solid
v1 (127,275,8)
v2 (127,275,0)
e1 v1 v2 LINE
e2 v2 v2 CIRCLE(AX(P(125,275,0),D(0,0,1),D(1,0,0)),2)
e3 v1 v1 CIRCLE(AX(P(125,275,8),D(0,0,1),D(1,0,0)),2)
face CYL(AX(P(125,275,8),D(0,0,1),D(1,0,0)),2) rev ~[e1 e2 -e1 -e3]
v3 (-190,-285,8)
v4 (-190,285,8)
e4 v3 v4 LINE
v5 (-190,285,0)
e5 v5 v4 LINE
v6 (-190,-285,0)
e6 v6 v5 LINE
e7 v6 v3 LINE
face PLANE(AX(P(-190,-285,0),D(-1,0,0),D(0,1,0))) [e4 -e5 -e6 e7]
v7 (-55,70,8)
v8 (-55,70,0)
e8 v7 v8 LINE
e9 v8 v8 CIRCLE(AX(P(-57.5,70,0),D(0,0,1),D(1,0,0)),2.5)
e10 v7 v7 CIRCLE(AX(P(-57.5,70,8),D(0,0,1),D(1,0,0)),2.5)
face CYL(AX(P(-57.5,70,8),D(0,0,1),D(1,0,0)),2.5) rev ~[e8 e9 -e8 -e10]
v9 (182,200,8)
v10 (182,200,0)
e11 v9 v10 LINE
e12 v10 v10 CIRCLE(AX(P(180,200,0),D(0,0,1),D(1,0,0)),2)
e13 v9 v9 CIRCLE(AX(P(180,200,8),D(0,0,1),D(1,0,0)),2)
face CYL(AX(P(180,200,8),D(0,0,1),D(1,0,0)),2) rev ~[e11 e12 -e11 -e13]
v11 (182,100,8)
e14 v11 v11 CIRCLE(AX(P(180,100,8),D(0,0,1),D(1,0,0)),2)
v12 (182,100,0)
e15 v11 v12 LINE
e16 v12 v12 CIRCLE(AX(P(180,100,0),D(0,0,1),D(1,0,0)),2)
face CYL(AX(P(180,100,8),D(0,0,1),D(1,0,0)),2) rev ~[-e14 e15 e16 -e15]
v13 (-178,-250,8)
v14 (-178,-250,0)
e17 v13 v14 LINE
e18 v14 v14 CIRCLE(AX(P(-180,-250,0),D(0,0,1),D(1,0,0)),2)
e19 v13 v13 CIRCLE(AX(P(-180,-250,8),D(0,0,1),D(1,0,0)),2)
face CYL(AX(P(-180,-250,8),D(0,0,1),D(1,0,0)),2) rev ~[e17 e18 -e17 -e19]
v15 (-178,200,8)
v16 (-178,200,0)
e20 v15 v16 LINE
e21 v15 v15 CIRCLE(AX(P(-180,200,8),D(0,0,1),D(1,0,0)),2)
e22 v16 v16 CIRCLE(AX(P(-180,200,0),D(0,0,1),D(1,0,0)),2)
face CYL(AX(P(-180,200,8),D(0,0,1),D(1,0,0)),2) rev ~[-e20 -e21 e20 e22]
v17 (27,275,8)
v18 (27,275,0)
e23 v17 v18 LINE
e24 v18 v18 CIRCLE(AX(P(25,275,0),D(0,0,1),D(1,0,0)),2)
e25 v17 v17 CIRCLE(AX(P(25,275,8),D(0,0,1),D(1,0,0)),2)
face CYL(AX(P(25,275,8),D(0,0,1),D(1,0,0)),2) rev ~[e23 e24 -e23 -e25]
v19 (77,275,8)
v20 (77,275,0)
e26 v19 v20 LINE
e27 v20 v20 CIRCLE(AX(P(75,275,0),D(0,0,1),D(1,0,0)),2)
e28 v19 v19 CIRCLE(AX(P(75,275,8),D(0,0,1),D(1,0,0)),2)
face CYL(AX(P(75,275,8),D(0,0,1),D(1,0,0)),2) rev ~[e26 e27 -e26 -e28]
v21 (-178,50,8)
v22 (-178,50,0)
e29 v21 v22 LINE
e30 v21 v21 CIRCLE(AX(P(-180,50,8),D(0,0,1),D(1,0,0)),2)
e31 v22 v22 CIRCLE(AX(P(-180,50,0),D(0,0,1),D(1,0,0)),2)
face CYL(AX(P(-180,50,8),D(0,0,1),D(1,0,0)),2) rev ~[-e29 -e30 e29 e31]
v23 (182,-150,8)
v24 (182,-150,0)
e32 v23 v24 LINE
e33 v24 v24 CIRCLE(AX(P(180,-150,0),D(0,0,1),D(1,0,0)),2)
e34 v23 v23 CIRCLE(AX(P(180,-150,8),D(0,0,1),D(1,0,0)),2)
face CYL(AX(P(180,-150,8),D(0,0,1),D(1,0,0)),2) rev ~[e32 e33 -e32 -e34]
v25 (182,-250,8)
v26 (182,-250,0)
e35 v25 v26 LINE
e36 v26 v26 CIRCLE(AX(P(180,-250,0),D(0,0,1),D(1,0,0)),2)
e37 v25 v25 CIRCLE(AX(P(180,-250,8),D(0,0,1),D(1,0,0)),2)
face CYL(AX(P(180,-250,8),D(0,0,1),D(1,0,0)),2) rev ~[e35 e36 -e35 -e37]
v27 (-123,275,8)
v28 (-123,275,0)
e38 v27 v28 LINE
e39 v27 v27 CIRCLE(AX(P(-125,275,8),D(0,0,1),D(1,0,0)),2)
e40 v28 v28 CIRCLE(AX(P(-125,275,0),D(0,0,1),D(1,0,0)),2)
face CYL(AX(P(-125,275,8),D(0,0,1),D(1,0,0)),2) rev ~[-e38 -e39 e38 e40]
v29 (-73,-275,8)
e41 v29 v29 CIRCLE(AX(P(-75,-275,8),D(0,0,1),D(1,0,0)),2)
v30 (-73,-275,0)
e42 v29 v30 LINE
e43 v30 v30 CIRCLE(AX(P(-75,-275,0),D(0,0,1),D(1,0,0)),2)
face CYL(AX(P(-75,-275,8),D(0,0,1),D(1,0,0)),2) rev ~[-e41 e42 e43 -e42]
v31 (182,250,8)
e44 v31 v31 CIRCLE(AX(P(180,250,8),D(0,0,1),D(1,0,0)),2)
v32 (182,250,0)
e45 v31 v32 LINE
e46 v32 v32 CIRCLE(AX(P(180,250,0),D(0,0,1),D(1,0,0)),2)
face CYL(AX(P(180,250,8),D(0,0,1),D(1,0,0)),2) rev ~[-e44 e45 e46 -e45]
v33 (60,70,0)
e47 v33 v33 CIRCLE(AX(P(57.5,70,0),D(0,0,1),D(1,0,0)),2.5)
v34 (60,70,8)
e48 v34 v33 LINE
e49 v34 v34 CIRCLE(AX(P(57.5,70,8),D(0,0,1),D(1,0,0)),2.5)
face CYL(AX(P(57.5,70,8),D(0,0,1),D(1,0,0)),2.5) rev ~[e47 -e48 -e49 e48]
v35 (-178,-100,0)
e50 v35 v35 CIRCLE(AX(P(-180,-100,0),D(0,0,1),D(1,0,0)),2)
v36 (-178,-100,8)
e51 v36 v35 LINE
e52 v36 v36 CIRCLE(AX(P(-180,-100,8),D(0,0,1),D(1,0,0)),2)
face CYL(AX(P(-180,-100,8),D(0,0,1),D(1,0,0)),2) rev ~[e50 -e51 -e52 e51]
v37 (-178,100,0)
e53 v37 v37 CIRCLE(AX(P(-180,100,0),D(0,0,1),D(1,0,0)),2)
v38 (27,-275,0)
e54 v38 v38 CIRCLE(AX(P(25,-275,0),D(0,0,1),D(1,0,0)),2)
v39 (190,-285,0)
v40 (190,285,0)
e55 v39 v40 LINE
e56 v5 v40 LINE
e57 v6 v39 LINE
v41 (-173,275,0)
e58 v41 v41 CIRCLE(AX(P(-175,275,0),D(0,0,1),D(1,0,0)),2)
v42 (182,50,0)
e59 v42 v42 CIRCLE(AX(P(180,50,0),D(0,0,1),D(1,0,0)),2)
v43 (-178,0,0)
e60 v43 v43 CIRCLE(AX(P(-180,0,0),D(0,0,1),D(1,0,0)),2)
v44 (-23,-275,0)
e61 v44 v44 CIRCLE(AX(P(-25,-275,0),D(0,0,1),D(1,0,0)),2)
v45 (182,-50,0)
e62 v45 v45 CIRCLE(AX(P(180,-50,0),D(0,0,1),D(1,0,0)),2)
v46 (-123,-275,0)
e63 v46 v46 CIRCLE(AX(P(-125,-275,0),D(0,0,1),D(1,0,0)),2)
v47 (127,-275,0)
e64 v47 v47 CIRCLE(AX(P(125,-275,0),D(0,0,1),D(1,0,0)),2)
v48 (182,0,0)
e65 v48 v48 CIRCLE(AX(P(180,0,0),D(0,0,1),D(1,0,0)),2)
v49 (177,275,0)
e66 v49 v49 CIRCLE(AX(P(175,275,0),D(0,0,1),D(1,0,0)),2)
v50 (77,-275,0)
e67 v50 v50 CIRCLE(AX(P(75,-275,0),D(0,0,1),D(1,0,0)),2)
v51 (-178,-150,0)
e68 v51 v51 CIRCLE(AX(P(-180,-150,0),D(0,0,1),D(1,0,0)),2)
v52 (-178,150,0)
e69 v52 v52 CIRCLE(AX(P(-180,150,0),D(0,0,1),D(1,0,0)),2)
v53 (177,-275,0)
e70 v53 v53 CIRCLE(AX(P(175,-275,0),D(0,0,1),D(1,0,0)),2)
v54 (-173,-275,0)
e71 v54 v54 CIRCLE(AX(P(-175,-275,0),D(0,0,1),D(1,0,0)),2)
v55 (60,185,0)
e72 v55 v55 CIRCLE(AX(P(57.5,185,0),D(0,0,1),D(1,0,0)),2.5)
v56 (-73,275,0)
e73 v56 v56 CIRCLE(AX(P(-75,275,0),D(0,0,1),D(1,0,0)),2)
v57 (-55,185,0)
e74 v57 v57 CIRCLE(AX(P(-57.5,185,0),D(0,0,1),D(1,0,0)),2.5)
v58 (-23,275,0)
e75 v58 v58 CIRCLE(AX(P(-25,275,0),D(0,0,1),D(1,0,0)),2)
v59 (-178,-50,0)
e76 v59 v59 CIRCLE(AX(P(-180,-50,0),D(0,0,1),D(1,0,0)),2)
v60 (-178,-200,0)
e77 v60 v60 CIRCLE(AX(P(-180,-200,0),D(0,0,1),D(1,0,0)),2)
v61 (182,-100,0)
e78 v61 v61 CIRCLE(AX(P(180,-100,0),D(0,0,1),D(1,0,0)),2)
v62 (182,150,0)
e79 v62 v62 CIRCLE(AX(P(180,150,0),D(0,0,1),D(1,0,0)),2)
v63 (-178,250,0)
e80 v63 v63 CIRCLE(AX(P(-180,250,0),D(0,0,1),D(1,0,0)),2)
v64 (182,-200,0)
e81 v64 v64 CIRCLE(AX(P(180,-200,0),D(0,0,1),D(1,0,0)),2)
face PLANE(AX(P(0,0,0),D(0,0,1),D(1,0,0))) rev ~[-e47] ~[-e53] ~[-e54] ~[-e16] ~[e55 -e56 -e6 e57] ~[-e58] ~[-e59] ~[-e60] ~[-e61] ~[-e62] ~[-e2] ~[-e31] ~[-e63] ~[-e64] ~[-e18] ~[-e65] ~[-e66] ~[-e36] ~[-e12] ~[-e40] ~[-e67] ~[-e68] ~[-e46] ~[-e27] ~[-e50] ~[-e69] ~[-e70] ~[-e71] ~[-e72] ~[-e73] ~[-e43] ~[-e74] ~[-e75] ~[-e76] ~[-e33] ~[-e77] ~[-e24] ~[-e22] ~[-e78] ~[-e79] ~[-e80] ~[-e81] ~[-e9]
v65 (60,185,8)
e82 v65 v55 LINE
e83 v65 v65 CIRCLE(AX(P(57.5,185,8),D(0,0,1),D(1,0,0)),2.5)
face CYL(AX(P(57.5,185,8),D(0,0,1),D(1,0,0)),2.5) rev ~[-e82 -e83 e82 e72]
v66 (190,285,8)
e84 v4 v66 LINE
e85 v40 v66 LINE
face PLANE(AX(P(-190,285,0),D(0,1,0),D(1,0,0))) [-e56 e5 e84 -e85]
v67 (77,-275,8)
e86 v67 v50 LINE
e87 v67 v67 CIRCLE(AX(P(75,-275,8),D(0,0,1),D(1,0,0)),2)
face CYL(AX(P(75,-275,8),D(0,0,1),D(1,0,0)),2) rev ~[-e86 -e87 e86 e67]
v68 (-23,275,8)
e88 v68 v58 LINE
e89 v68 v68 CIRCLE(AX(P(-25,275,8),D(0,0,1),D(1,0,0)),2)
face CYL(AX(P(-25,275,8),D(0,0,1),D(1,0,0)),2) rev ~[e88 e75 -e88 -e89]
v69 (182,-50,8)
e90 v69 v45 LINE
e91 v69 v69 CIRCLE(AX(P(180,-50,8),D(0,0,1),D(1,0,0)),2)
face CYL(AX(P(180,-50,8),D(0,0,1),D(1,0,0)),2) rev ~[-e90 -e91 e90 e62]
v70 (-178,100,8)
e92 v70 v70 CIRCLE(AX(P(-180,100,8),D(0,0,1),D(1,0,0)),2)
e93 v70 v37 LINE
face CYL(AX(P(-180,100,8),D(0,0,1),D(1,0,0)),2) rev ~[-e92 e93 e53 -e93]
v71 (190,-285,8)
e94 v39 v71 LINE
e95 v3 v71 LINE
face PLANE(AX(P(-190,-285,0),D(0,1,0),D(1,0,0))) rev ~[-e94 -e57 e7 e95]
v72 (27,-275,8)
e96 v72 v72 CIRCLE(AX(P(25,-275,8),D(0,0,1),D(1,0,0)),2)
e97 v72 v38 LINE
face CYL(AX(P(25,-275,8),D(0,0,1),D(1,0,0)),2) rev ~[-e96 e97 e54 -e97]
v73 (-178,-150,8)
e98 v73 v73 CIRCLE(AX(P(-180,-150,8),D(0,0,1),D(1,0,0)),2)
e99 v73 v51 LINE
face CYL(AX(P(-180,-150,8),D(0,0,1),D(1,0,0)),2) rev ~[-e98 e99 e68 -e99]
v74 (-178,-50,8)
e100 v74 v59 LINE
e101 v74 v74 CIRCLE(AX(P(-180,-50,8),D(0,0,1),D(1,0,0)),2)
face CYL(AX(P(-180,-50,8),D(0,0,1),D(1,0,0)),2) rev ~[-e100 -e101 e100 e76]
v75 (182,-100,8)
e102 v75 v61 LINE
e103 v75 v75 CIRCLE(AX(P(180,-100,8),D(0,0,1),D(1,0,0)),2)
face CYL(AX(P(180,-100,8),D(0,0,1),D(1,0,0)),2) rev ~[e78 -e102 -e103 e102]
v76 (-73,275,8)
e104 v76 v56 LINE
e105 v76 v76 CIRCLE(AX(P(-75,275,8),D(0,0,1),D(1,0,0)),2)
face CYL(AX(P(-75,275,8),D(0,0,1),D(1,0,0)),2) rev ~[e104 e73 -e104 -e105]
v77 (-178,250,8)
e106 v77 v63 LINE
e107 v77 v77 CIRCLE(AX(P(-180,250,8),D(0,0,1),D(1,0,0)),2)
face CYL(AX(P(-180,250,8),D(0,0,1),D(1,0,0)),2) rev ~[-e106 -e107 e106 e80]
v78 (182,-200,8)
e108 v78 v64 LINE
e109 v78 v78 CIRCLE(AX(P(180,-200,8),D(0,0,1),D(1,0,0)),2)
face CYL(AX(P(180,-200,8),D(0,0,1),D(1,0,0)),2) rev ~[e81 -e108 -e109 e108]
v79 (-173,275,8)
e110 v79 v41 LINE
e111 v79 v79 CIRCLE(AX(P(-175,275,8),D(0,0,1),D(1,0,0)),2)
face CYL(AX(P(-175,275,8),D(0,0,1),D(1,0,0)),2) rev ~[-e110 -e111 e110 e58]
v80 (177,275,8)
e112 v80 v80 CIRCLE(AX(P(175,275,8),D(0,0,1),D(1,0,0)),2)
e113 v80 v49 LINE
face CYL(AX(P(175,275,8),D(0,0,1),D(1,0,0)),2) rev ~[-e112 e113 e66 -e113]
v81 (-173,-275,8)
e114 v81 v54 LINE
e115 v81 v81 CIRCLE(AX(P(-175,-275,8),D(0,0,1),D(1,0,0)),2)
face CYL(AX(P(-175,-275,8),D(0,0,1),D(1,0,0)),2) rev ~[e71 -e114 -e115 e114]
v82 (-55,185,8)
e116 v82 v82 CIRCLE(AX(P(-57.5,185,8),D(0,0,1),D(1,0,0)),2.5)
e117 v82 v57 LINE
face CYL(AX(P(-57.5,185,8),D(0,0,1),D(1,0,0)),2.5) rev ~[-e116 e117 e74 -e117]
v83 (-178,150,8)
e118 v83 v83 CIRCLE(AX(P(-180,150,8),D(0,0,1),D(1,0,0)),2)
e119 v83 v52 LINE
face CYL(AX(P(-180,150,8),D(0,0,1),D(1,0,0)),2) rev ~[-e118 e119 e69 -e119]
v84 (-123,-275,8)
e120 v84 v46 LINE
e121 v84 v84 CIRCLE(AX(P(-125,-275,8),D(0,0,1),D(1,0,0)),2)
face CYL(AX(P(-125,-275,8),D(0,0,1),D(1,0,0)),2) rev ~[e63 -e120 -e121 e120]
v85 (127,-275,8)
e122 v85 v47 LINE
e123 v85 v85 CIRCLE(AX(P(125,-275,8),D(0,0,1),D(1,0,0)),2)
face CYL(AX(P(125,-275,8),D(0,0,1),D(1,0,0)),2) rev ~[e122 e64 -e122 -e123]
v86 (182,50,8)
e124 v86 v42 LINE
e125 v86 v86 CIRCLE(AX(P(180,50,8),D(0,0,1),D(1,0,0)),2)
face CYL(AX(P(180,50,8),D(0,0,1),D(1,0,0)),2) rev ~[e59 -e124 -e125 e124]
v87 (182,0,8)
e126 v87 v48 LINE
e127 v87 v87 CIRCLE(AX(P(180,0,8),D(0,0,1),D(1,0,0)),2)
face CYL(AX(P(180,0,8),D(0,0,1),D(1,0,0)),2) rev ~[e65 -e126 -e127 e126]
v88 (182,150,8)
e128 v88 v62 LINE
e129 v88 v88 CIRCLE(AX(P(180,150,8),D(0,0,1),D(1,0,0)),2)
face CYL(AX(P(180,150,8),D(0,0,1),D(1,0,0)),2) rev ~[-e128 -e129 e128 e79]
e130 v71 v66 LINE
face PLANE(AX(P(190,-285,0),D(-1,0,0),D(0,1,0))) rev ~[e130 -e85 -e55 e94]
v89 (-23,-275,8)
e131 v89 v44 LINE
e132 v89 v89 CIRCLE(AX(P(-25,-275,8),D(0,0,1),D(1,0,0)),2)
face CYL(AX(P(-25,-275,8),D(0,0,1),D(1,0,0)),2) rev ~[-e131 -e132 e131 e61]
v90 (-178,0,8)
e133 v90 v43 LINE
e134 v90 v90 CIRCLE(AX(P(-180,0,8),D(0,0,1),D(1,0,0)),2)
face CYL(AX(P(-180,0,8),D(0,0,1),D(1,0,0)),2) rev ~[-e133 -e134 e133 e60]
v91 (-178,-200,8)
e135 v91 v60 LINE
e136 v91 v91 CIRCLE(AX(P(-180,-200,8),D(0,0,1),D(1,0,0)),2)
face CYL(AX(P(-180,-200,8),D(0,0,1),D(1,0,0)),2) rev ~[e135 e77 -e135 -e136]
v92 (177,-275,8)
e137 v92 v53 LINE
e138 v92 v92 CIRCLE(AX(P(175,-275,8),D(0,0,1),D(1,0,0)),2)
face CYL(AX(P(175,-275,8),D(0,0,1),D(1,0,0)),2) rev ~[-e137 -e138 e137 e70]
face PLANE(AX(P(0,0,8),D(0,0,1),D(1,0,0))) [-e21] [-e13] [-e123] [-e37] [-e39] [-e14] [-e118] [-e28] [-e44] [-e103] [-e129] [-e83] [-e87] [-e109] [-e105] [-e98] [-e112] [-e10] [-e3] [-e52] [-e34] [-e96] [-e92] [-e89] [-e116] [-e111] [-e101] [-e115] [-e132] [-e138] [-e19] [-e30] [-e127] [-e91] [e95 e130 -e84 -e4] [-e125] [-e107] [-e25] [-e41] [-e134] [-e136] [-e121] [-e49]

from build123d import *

# Parameters (mm, degrees)
SKETCH_1_W          = 380
SKETCH_1_H          = 570
EXTRUDE_1_DEPTH     = 8
CUT_EXTRUDE_1_REACH = 344.621
SKETCH_2_R          = 2
CUT_EXTRUDE_2_REACH = 344.621
SKETCH_3_R          = 2.5
CUT_EXTRUDE_3_REACH = 344.621
SKETCH_4_R          = 2


with BuildPart() as part:
    # 草图1 → 凸台-拉伸1 (new body)
    with BuildSketch(Plane.XY):
        Rectangle(SKETCH_1_W, SKETCH_1_H)
    extrude(amount=EXTRUDE_1_DEPTH)

    # 草图2 → 切除-拉伸1 (cut, up to next)
    with BuildSketch(Plane.XY.offset(8), mode=Mode.PRIVATE) as cut_extrude_1_sk1:
        with Locations((-180, 250)):
            Circle(SKETCH_2_R)
    cut_extrude_1_tool1 = extrude(cut_extrude_1_sk1.sketch, amount=-CUT_EXTRUDE_1_REACH, mode=Mode.PRIVATE) & part.part
    # 草图2 → 切除-拉伸1 (cut, up to next)
    with BuildSketch(Plane.XY.offset(8), mode=Mode.PRIVATE) as cut_extrude_1_sk2:
        with Locations((-180, 200)):
            Circle(SKETCH_2_R)
    cut_extrude_1_tool2 = extrude(cut_extrude_1_sk2.sketch, amount=-CUT_EXTRUDE_1_REACH, mode=Mode.PRIVATE) & part.part
    # 草图2 → 切除-拉伸1 (cut, up to next)
    with BuildSketch(Plane.XY.offset(8), mode=Mode.PRIVATE) as cut_extrude_1_sk3:
        with Locations((-180, 150)):
            Circle(SKETCH_2_R)
    cut_extrude_1_tool3 = extrude(cut_extrude_1_sk3.sketch, amount=-CUT_EXTRUDE_1_REACH, mode=Mode.PRIVATE) & part.part
    # 草图2 → 切除-拉伸1 (cut, up to next)
    with BuildSketch(Plane.XY.offset(8), mode=Mode.PRIVATE) as cut_extrude_1_sk4:
        with Locations((-180, 100)):
            Circle(SKETCH_2_R)
    cut_extrude_1_tool4 = extrude(cut_extrude_1_sk4.sketch, amount=-CUT_EXTRUDE_1_REACH, mode=Mode.PRIVATE) & part.part
    # 草图2 → 切除-拉伸1 (cut, up to next)
    with BuildSketch(Plane.XY.offset(8), mode=Mode.PRIVATE) as cut_extrude_1_sk5:
        with Locations((-180, 50)):
            Circle(SKETCH_2_R)
    cut_extrude_1_tool5 = extrude(cut_extrude_1_sk5.sketch, amount=-CUT_EXTRUDE_1_REACH, mode=Mode.PRIVATE) & part.part
    # 草图2 → 切除-拉伸1 (cut, up to next)
    with BuildSketch(Plane.XY.offset(8), mode=Mode.PRIVATE) as cut_extrude_1_sk6:
        with Locations((-180, 0)):
            Circle(SKETCH_2_R)
    cut_extrude_1_tool6 = extrude(cut_extrude_1_sk6.sketch, amount=-CUT_EXTRUDE_1_REACH, mode=Mode.PRIVATE) & part.part
    # 草图2 → 切除-拉伸1 (cut, up to next)
    with BuildSketch(Plane.XY.offset(8), mode=Mode.PRIVATE) as cut_extrude_1_sk7:
        with Locations((-180, -50)):
            Circle(SKETCH_2_R)
    cut_extrude_1_tool7 = extrude(cut_extrude_1_sk7.sketch, amount=-CUT_EXTRUDE_1_REACH, mode=Mode.PRIVATE) & part.part
    # 草图2 → 切除-拉伸1 (cut, up to next)
    with BuildSketch(Plane.XY.offset(8), mode=Mode.PRIVATE) as cut_extrude_1_sk8:
        with Locations((-180, -100)):
            Circle(SKETCH_2_R)
    cut_extrude_1_tool8 = extrude(cut_extrude_1_sk8.sketch, amount=-CUT_EXTRUDE_1_REACH, mode=Mode.PRIVATE) & part.part
    # 草图2 → 切除-拉伸1 (cut, up to next)
    with BuildSketch(Plane.XY.offset(8), mode=Mode.PRIVATE) as cut_extrude_1_sk9:
        with Locations((-180, -150)):
            Circle(SKETCH_2_R)
    cut_extrude_1_tool9 = extrude(cut_extrude_1_sk9.sketch, amount=-CUT_EXTRUDE_1_REACH, mode=Mode.PRIVATE) & part.part
    # 草图2 → 切除-拉伸1 (cut, up to next)
    with BuildSketch(Plane.XY.offset(8), mode=Mode.PRIVATE) as cut_extrude_1_sk10:
        with Locations((-180, -200)):
            Circle(SKETCH_2_R)
    cut_extrude_1_tool10 = extrude(cut_extrude_1_sk10.sketch, amount=-CUT_EXTRUDE_1_REACH, mode=Mode.PRIVATE) & part.part
    # 草图2 → 切除-拉伸1 (cut, up to next)
    with BuildSketch(Plane.XY.offset(8), mode=Mode.PRIVATE) as cut_extrude_1_sk11:
        with Locations((-180, -250)):
            Circle(SKETCH_2_R)
    cut_extrude_1_tool11 = extrude(cut_extrude_1_sk11.sketch, amount=-CUT_EXTRUDE_1_REACH, mode=Mode.PRIVATE) & part.part
    # 草图2 → 切除-拉伸1 (cut, up to next)
    with BuildSketch(Plane.XY.offset(8), mode=Mode.PRIVATE) as cut_extrude_1_sk12:
        with Locations((180, -250)):
            Circle(SKETCH_2_R)
    cut_extrude_1_tool12 = extrude(cut_extrude_1_sk12.sketch, amount=-CUT_EXTRUDE_1_REACH, mode=Mode.PRIVATE) & part.part
    # 草图2 → 切除-拉伸1 (cut, up to next)
    with BuildSketch(Plane.XY.offset(8), mode=Mode.PRIVATE) as cut_extrude_1_sk13:
        with Locations((180, -200)):
            Circle(SKETCH_2_R)
    cut_extrude_1_tool13 = extrude(cut_extrude_1_sk13.sketch, amount=-CUT_EXTRUDE_1_REACH, mode=Mode.PRIVATE) & part.part
    # 草图2 → 切除-拉伸1 (cut, up to next)
    with BuildSketch(Plane.XY.offset(8), mode=Mode.PRIVATE) as cut_extrude_1_sk14:
        with Locations((180, -150)):
            Circle(SKETCH_2_R)
    cut_extrude_1_tool14 = extrude(cut_extrude_1_sk14.sketch, amount=-CUT_EXTRUDE_1_REACH, mode=Mode.PRIVATE) & part.part
    # 草图2 → 切除-拉伸1 (cut, up to next)
    with BuildSketch(Plane.XY.offset(8), mode=Mode.PRIVATE) as cut_extrude_1_sk15:
        with Locations((180, -100)):
            Circle(SKETCH_2_R)
    cut_extrude_1_tool15 = extrude(cut_extrude_1_sk15.sketch, amount=-CUT_EXTRUDE_1_REACH, mode=Mode.PRIVATE) & part.part
    # 草图2 → 切除-拉伸1 (cut, up to next)
    with BuildSketch(Plane.XY.offset(8), mode=Mode.PRIVATE) as cut_extrude_1_sk16:
        with Locations((180, -50)):
            Circle(SKETCH_2_R)
    cut_extrude_1_tool16 = extrude(cut_extrude_1_sk16.sketch, amount=-CUT_EXTRUDE_1_REACH, mode=Mode.PRIVATE) & part.part
    # 草图2 → 切除-拉伸1 (cut, up to next)
    with BuildSketch(Plane.XY.offset(8), mode=Mode.PRIVATE) as cut_extrude_1_sk17:
        with Locations((180, 0)):
            Circle(SKETCH_2_R)
    cut_extrude_1_tool17 = extrude(cut_extrude_1_sk17.sketch, amount=-CUT_EXTRUDE_1_REACH, mode=Mode.PRIVATE) & part.part
    # 草图2 → 切除-拉伸1 (cut, up to next)
    with BuildSketch(Plane.XY.offset(8), mode=Mode.PRIVATE) as cut_extrude_1_sk18:
        with Locations((180, 50)):
            Circle(SKETCH_2_R)
    cut_extrude_1_tool18 = extrude(cut_extrude_1_sk18.sketch, amount=-CUT_EXTRUDE_1_REACH, mode=Mode.PRIVATE) & part.part
    # 草图2 → 切除-拉伸1 (cut, up to next)
    with BuildSketch(Plane.XY.offset(8), mode=Mode.PRIVATE) as cut_extrude_1_sk19:
        with Locations((180, 100)):
            Circle(SKETCH_2_R)
    cut_extrude_1_tool19 = extrude(cut_extrude_1_sk19.sketch, amount=-CUT_EXTRUDE_1_REACH, mode=Mode.PRIVATE) & part.part
    # 草图2 → 切除-拉伸1 (cut, up to next)
    with BuildSketch(Plane.XY.offset(8), mode=Mode.PRIVATE) as cut_extrude_1_sk20:
        with Locations((180, 150)):
            Circle(SKETCH_2_R)
    cut_extrude_1_tool20 = extrude(cut_extrude_1_sk20.sketch, amount=-CUT_EXTRUDE_1_REACH, mode=Mode.PRIVATE) & part.part
    # 草图2 → 切除-拉伸1 (cut, up to next)
    with BuildSketch(Plane.XY.offset(8), mode=Mode.PRIVATE) as cut_extrude_1_sk21:
        with Locations((180, 200)):
            Circle(SKETCH_2_R)
    cut_extrude_1_tool21 = extrude(cut_extrude_1_sk21.sketch, amount=-CUT_EXTRUDE_1_REACH, mode=Mode.PRIVATE) & part.part
    # 草图2 → 切除-拉伸1 (cut, up to next)
    with BuildSketch(Plane.XY.offset(8), mode=Mode.PRIVATE) as cut_extrude_1_sk22:
        with Locations((180, 250)):
            Circle(SKETCH_2_R)
    cut_extrude_1_tool22 = extrude(cut_extrude_1_sk22.sketch, amount=-CUT_EXTRUDE_1_REACH, mode=Mode.PRIVATE) & part.part
    add(cut_extrude_1_tool1.solids().sort_by_distance((-180, 250, 8))[0], mode=Mode.SUBTRACT)
    add(cut_extrude_1_tool2.solids().sort_by_distance((-180, 200, 8))[0], mode=Mode.SUBTRACT)
    add(cut_extrude_1_tool3.solids().sort_by_distance((-180, 150, 8))[0], mode=Mode.SUBTRACT)
    add(cut_extrude_1_tool4.solids().sort_by_distance((-180, 100, 8))[0], mode=Mode.SUBTRACT)
    add(cut_extrude_1_tool5.solids().sort_by_distance((-180, 50, 8))[0], mode=Mode.SUBTRACT)
    add(cut_extrude_1_tool6.solids().sort_by_distance((-180, 0, 8))[0], mode=Mode.SUBTRACT)
    add(cut_extrude_1_tool7.solids().sort_by_distance((-180, -50, 8))[0], mode=Mode.SUBTRACT)
    add(cut_extrude_1_tool8.solids().sort_by_distance((-180, -100, 8))[0], mode=Mode.SUBTRACT)
    add(cut_extrude_1_tool9.solids().sort_by_distance((-180, -150, 8))[0], mode=Mode.SUBTRACT)
    add(cut_extrude_1_tool10.solids().sort_by_distance((-180, -200, 8))[0], mode=Mode.SUBTRACT)
    add(cut_extrude_1_tool11.solids().sort_by_distance((-180, -250, 8))[0], mode=Mode.SUBTRACT)
    add(cut_extrude_1_tool12.solids().sort_by_distance((180, -250, 8))[0], mode=Mode.SUBTRACT)
    add(cut_extrude_1_tool13.solids().sort_by_distance((180, -200, 8))[0], mode=Mode.SUBTRACT)
    add(cut_extrude_1_tool14.solids().sort_by_distance((180, -150, 8))[0], mode=Mode.SUBTRACT)
    add(cut_extrude_1_tool15.solids().sort_by_distance((180, -100, 8))[0], mode=Mode.SUBTRACT)
    add(cut_extrude_1_tool16.solids().sort_by_distance((180, -50, 8))[0], mode=Mode.SUBTRACT)
    add(cut_extrude_1_tool17.solids().sort_by_distance((180, 0, 8))[0], mode=Mode.SUBTRACT)
    add(cut_extrude_1_tool18.solids().sort_by_distance((180, 50, 8))[0], mode=Mode.SUBTRACT)
    add(cut_extrude_1_tool19.solids().sort_by_distance((180, 100, 8))[0], mode=Mode.SUBTRACT)
    add(cut_extrude_1_tool20.solids().sort_by_distance((180, 150, 8))[0], mode=Mode.SUBTRACT)
    add(cut_extrude_1_tool21.solids().sort_by_distance((180, 200, 8))[0], mode=Mode.SUBTRACT)
    add(cut_extrude_1_tool22.solids().sort_by_distance((180, 250, 8))[0], mode=Mode.SUBTRACT)

    # 草图3 → 切除-拉伸2 (cut, up to next)
    with BuildSketch(Plane.XY.offset(8), mode=Mode.PRIVATE) as cut_extrude_2_sk1:
        with Locations((-57.5, 185)):
            Circle(SKETCH_3_R)
    cut_extrude_2_tool1 = extrude(cut_extrude_2_sk1.sketch, amount=-CUT_EXTRUDE_2_REACH, mode=Mode.PRIVATE) & part.part
    # 草图3 → 切除-拉伸2 (cut, up to next)
    with BuildSketch(Plane.XY.offset(8), mode=Mode.PRIVATE) as cut_extrude_2_sk2:
        with Locations((57.5, 185)):
            Circle(SKETCH_3_R)
    cut_extrude_2_tool2 = extrude(cut_extrude_2_sk2.sketch, amount=-CUT_EXTRUDE_2_REACH, mode=Mode.PRIVATE) & part.part
    # 草图3 → 切除-拉伸2 (cut, up to next)
    with BuildSketch(Plane.XY.offset(8), mode=Mode.PRIVATE) as cut_extrude_2_sk3:
        with Locations((57.5, 70)):
            Circle(SKETCH_3_R)
    cut_extrude_2_tool3 = extrude(cut_extrude_2_sk3.sketch, amount=-CUT_EXTRUDE_2_REACH, mode=Mode.PRIVATE) & part.part
    # 草图3 → 切除-拉伸2 (cut, up to next)
    with BuildSketch(Plane.XY.offset(8), mode=Mode.PRIVATE) as cut_extrude_2_sk4:
        with Locations((-57.5, 70)):
            Circle(SKETCH_3_R)
    cut_extrude_2_tool4 = extrude(cut_extrude_2_sk4.sketch, amount=-CUT_EXTRUDE_2_REACH, mode=Mode.PRIVATE) & part.part
    add(cut_extrude_2_tool1.solids().sort_by_distance((-57.5, 185, 8))[0], mode=Mode.SUBTRACT)
    add(cut_extrude_2_tool2.solids().sort_by_distance((57.5, 185, 8))[0], mode=Mode.SUBTRACT)
    add(cut_extrude_2_tool3.solids().sort_by_distance((57.5, 70, 8))[0], mode=Mode.SUBTRACT)
    add(cut_extrude_2_tool4.solids().sort_by_distance((-57.5, 70, 8))[0], mode=Mode.SUBTRACT)

    # 草图4 → 切除-拉伸3 (cut, up to next)
    with BuildSketch(Plane.XY.offset(8), mode=Mode.PRIVATE) as cut_extrude_3_sk1:
        with Locations((-175, 275)):
            Circle(SKETCH_4_R)
    cut_extrude_3_tool1 = extrude(cut_extrude_3_sk1.sketch, amount=-CUT_EXTRUDE_3_REACH, mode=Mode.PRIVATE) & part.part
    # 草图4 → 切除-拉伸3 (cut, up to next)
    with BuildSketch(Plane.XY.offset(8), mode=Mode.PRIVATE) as cut_extrude_3_sk2:
        with Locations((-125, 275)):
            Circle(SKETCH_4_R)
    cut_extrude_3_tool2 = extrude(cut_extrude_3_sk2.sketch, amount=-CUT_EXTRUDE_3_REACH, mode=Mode.PRIVATE) & part.part
    # 草图4 → 切除-拉伸3 (cut, up to next)
    with BuildSketch(Plane.XY.offset(8), mode=Mode.PRIVATE) as cut_extrude_3_sk3:
        with Locations((-75, 275)):
            Circle(SKETCH_4_R)
    cut_extrude_3_tool3 = extrude(cut_extrude_3_sk3.sketch, amount=-CUT_EXTRUDE_3_REACH, mode=Mode.PRIVATE) & part.part
    # 草图4 → 切除-拉伸3 (cut, up to next)
    with BuildSketch(Plane.XY.offset(8), mode=Mode.PRIVATE) as cut_extrude_3_sk4:
        with Locations((-25, 275)):
            Circle(SKETCH_4_R)
    cut_extrude_3_tool4 = extrude(cut_extrude_3_sk4.sketch, amount=-CUT_EXTRUDE_3_REACH, mode=Mode.PRIVATE) & part.part
    # 草图4 → 切除-拉伸3 (cut, up to next)
    with BuildSketch(Plane.XY.offset(8), mode=Mode.PRIVATE) as cut_extrude_3_sk5:
        with Locations((25, 275)):
            Circle(SKETCH_4_R)
    cut_extrude_3_tool5 = extrude(cut_extrude_3_sk5.sketch, amount=-CUT_EXTRUDE_3_REACH, mode=Mode.PRIVATE) & part.part
    # 草图4 → 切除-拉伸3 (cut, up to next)
    with BuildSketch(Plane.XY.offset(8), mode=Mode.PRIVATE) as cut_extrude_3_sk6:
        with Locations((75, 275)):
            Circle(SKETCH_4_R)
    cut_extrude_3_tool6 = extrude(cut_extrude_3_sk6.sketch, amount=-CUT_EXTRUDE_3_REACH, mode=Mode.PRIVATE) & part.part
    # 草图4 → 切除-拉伸3 (cut, up to next)
    with BuildSketch(Plane.XY.offset(8), mode=Mode.PRIVATE) as cut_extrude_3_sk7:
        with Locations((125, 275)):
            Circle(SKETCH_4_R)
    cut_extrude_3_tool7 = extrude(cut_extrude_3_sk7.sketch, amount=-CUT_EXTRUDE_3_REACH, mode=Mode.PRIVATE) & part.part
    # 草图4 → 切除-拉伸3 (cut, up to next)
    with BuildSketch(Plane.XY.offset(8), mode=Mode.PRIVATE) as cut_extrude_3_sk8:
        with Locations((175, 275)):
            Circle(SKETCH_4_R)
    cut_extrude_3_tool8 = extrude(cut_extrude_3_sk8.sketch, amount=-CUT_EXTRUDE_3_REACH, mode=Mode.PRIVATE) & part.part
    # 草图4 → 切除-拉伸3 (cut, up to next)
    with BuildSketch(Plane.XY.offset(8), mode=Mode.PRIVATE) as cut_extrude_3_sk9:
        with Locations((175, -275)):
            Circle(SKETCH_4_R)
    cut_extrude_3_tool9 = extrude(cut_extrude_3_sk9.sketch, amount=-CUT_EXTRUDE_3_REACH, mode=Mode.PRIVATE) & part.part
    # 草图4 → 切除-拉伸3 (cut, up to next)
    with BuildSketch(Plane.XY.offset(8), mode=Mode.PRIVATE) as cut_extrude_3_sk10:
        with Locations((125, -275)):
            Circle(SKETCH_4_R)
    cut_extrude_3_tool10 = extrude(cut_extrude_3_sk10.sketch, amount=-CUT_EXTRUDE_3_REACH, mode=Mode.PRIVATE) & part.part
    # 草图4 → 切除-拉伸3 (cut, up to next)
    with BuildSketch(Plane.XY.offset(8), mode=Mode.PRIVATE) as cut_extrude_3_sk11:
        with Locations((75, -275)):
            Circle(SKETCH_4_R)
    cut_extrude_3_tool11 = extrude(cut_extrude_3_sk11.sketch, amount=-CUT_EXTRUDE_3_REACH, mode=Mode.PRIVATE) & part.part
    # 草图4 → 切除-拉伸3 (cut, up to next)
    with BuildSketch(Plane.XY.offset(8), mode=Mode.PRIVATE) as cut_extrude_3_sk12:
        with Locations((25, -275)):
            Circle(SKETCH_4_R)
    cut_extrude_3_tool12 = extrude(cut_extrude_3_sk12.sketch, amount=-CUT_EXTRUDE_3_REACH, mode=Mode.PRIVATE) & part.part
    # 草图4 → 切除-拉伸3 (cut, up to next)
    with BuildSketch(Plane.XY.offset(8), mode=Mode.PRIVATE) as cut_extrude_3_sk13:
        with Locations((-25, -275)):
            Circle(SKETCH_4_R)
    cut_extrude_3_tool13 = extrude(cut_extrude_3_sk13.sketch, amount=-CUT_EXTRUDE_3_REACH, mode=Mode.PRIVATE) & part.part
    # 草图4 → 切除-拉伸3 (cut, up to next)
    with BuildSketch(Plane.XY.offset(8), mode=Mode.PRIVATE) as cut_extrude_3_sk14:
        with Locations((-75, -275)):
            Circle(SKETCH_4_R)
    cut_extrude_3_tool14 = extrude(cut_extrude_3_sk14.sketch, amount=-CUT_EXTRUDE_3_REACH, mode=Mode.PRIVATE) & part.part
    # 草图4 → 切除-拉伸3 (cut, up to next)
    with BuildSketch(Plane.XY.offset(8), mode=Mode.PRIVATE) as cut_extrude_3_sk15:
        with Locations((-125, -275)):
            Circle(SKETCH_4_R)
    cut_extrude_3_tool15 = extrude(cut_extrude_3_sk15.sketch, amount=-CUT_EXTRUDE_3_REACH, mode=Mode.PRIVATE) & part.part
    # 草图4 → 切除-拉伸3 (cut, up to next)
    with BuildSketch(Plane.XY.offset(8), mode=Mode.PRIVATE) as cut_extrude_3_sk16:
        with Locations((-175, -275)):
            Circle(SKETCH_4_R)
    cut_extrude_3_tool16 = extrude(cut_extrude_3_sk16.sketch, amount=-CUT_EXTRUDE_3_REACH, mode=Mode.PRIVATE) & part.part
    add(cut_extrude_3_tool1.solids().sort_by_distance((-175, 275, 8))[0], mode=Mode.SUBTRACT)
    add(cut_extrude_3_tool2.solids().sort_by_distance((-125, 275, 8))[0], mode=Mode.SUBTRACT)
    add(cut_extrude_3_tool3.solids().sort_by_distance((-75, 275, 8))[0], mode=Mode.SUBTRACT)
    add(cut_extrude_3_tool4.solids().sort_by_distance((-25, 275, 8))[0], mode=Mode.SUBTRACT)
    add(cut_extrude_3_tool5.solids().sort_by_distance((25, 275, 8))[0], mode=Mode.SUBTRACT)
    add(cut_extrude_3_tool6.solids().sort_by_distance((75, 275, 8))[0], mode=Mode.SUBTRACT)
    add(cut_extrude_3_tool7.solids().sort_by_distance((125, 275, 8))[0], mode=Mode.SUBTRACT)
    add(cut_extrude_3_tool8.solids().sort_by_distance((175, 275, 8))[0], mode=Mode.SUBTRACT)
    add(cut_extrude_3_tool9.solids().sort_by_distance((175, -275, 8))[0], mode=Mode.SUBTRACT)
    add(cut_extrude_3_tool10.solids().sort_by_distance((125, -275, 8))[0], mode=Mode.SUBTRACT)
    add(cut_extrude_3_tool11.solids().sort_by_distance((75, -275, 8))[0], mode=Mode.SUBTRACT)
    add(cut_extrude_3_tool12.solids().sort_by_distance((25, -275, 8))[0], mode=Mode.SUBTRACT)
    add(cut_extrude_3_tool13.solids().sort_by_distance((-25, -275, 8))[0], mode=Mode.SUBTRACT)
    add(cut_extrude_3_tool14.solids().sort_by_distance((-75, -275, 8))[0], mode=Mode.SUBTRACT)
    add(cut_extrude_3_tool15.solids().sort_by_distance((-125, -275, 8))[0], mode=Mode.SUBTRACT)
    add(cut_extrude_3_tool16.solids().sort_by_distance((-175, -275, 8))[0], mode=Mode.SUBTRACT)


solid = part.part
